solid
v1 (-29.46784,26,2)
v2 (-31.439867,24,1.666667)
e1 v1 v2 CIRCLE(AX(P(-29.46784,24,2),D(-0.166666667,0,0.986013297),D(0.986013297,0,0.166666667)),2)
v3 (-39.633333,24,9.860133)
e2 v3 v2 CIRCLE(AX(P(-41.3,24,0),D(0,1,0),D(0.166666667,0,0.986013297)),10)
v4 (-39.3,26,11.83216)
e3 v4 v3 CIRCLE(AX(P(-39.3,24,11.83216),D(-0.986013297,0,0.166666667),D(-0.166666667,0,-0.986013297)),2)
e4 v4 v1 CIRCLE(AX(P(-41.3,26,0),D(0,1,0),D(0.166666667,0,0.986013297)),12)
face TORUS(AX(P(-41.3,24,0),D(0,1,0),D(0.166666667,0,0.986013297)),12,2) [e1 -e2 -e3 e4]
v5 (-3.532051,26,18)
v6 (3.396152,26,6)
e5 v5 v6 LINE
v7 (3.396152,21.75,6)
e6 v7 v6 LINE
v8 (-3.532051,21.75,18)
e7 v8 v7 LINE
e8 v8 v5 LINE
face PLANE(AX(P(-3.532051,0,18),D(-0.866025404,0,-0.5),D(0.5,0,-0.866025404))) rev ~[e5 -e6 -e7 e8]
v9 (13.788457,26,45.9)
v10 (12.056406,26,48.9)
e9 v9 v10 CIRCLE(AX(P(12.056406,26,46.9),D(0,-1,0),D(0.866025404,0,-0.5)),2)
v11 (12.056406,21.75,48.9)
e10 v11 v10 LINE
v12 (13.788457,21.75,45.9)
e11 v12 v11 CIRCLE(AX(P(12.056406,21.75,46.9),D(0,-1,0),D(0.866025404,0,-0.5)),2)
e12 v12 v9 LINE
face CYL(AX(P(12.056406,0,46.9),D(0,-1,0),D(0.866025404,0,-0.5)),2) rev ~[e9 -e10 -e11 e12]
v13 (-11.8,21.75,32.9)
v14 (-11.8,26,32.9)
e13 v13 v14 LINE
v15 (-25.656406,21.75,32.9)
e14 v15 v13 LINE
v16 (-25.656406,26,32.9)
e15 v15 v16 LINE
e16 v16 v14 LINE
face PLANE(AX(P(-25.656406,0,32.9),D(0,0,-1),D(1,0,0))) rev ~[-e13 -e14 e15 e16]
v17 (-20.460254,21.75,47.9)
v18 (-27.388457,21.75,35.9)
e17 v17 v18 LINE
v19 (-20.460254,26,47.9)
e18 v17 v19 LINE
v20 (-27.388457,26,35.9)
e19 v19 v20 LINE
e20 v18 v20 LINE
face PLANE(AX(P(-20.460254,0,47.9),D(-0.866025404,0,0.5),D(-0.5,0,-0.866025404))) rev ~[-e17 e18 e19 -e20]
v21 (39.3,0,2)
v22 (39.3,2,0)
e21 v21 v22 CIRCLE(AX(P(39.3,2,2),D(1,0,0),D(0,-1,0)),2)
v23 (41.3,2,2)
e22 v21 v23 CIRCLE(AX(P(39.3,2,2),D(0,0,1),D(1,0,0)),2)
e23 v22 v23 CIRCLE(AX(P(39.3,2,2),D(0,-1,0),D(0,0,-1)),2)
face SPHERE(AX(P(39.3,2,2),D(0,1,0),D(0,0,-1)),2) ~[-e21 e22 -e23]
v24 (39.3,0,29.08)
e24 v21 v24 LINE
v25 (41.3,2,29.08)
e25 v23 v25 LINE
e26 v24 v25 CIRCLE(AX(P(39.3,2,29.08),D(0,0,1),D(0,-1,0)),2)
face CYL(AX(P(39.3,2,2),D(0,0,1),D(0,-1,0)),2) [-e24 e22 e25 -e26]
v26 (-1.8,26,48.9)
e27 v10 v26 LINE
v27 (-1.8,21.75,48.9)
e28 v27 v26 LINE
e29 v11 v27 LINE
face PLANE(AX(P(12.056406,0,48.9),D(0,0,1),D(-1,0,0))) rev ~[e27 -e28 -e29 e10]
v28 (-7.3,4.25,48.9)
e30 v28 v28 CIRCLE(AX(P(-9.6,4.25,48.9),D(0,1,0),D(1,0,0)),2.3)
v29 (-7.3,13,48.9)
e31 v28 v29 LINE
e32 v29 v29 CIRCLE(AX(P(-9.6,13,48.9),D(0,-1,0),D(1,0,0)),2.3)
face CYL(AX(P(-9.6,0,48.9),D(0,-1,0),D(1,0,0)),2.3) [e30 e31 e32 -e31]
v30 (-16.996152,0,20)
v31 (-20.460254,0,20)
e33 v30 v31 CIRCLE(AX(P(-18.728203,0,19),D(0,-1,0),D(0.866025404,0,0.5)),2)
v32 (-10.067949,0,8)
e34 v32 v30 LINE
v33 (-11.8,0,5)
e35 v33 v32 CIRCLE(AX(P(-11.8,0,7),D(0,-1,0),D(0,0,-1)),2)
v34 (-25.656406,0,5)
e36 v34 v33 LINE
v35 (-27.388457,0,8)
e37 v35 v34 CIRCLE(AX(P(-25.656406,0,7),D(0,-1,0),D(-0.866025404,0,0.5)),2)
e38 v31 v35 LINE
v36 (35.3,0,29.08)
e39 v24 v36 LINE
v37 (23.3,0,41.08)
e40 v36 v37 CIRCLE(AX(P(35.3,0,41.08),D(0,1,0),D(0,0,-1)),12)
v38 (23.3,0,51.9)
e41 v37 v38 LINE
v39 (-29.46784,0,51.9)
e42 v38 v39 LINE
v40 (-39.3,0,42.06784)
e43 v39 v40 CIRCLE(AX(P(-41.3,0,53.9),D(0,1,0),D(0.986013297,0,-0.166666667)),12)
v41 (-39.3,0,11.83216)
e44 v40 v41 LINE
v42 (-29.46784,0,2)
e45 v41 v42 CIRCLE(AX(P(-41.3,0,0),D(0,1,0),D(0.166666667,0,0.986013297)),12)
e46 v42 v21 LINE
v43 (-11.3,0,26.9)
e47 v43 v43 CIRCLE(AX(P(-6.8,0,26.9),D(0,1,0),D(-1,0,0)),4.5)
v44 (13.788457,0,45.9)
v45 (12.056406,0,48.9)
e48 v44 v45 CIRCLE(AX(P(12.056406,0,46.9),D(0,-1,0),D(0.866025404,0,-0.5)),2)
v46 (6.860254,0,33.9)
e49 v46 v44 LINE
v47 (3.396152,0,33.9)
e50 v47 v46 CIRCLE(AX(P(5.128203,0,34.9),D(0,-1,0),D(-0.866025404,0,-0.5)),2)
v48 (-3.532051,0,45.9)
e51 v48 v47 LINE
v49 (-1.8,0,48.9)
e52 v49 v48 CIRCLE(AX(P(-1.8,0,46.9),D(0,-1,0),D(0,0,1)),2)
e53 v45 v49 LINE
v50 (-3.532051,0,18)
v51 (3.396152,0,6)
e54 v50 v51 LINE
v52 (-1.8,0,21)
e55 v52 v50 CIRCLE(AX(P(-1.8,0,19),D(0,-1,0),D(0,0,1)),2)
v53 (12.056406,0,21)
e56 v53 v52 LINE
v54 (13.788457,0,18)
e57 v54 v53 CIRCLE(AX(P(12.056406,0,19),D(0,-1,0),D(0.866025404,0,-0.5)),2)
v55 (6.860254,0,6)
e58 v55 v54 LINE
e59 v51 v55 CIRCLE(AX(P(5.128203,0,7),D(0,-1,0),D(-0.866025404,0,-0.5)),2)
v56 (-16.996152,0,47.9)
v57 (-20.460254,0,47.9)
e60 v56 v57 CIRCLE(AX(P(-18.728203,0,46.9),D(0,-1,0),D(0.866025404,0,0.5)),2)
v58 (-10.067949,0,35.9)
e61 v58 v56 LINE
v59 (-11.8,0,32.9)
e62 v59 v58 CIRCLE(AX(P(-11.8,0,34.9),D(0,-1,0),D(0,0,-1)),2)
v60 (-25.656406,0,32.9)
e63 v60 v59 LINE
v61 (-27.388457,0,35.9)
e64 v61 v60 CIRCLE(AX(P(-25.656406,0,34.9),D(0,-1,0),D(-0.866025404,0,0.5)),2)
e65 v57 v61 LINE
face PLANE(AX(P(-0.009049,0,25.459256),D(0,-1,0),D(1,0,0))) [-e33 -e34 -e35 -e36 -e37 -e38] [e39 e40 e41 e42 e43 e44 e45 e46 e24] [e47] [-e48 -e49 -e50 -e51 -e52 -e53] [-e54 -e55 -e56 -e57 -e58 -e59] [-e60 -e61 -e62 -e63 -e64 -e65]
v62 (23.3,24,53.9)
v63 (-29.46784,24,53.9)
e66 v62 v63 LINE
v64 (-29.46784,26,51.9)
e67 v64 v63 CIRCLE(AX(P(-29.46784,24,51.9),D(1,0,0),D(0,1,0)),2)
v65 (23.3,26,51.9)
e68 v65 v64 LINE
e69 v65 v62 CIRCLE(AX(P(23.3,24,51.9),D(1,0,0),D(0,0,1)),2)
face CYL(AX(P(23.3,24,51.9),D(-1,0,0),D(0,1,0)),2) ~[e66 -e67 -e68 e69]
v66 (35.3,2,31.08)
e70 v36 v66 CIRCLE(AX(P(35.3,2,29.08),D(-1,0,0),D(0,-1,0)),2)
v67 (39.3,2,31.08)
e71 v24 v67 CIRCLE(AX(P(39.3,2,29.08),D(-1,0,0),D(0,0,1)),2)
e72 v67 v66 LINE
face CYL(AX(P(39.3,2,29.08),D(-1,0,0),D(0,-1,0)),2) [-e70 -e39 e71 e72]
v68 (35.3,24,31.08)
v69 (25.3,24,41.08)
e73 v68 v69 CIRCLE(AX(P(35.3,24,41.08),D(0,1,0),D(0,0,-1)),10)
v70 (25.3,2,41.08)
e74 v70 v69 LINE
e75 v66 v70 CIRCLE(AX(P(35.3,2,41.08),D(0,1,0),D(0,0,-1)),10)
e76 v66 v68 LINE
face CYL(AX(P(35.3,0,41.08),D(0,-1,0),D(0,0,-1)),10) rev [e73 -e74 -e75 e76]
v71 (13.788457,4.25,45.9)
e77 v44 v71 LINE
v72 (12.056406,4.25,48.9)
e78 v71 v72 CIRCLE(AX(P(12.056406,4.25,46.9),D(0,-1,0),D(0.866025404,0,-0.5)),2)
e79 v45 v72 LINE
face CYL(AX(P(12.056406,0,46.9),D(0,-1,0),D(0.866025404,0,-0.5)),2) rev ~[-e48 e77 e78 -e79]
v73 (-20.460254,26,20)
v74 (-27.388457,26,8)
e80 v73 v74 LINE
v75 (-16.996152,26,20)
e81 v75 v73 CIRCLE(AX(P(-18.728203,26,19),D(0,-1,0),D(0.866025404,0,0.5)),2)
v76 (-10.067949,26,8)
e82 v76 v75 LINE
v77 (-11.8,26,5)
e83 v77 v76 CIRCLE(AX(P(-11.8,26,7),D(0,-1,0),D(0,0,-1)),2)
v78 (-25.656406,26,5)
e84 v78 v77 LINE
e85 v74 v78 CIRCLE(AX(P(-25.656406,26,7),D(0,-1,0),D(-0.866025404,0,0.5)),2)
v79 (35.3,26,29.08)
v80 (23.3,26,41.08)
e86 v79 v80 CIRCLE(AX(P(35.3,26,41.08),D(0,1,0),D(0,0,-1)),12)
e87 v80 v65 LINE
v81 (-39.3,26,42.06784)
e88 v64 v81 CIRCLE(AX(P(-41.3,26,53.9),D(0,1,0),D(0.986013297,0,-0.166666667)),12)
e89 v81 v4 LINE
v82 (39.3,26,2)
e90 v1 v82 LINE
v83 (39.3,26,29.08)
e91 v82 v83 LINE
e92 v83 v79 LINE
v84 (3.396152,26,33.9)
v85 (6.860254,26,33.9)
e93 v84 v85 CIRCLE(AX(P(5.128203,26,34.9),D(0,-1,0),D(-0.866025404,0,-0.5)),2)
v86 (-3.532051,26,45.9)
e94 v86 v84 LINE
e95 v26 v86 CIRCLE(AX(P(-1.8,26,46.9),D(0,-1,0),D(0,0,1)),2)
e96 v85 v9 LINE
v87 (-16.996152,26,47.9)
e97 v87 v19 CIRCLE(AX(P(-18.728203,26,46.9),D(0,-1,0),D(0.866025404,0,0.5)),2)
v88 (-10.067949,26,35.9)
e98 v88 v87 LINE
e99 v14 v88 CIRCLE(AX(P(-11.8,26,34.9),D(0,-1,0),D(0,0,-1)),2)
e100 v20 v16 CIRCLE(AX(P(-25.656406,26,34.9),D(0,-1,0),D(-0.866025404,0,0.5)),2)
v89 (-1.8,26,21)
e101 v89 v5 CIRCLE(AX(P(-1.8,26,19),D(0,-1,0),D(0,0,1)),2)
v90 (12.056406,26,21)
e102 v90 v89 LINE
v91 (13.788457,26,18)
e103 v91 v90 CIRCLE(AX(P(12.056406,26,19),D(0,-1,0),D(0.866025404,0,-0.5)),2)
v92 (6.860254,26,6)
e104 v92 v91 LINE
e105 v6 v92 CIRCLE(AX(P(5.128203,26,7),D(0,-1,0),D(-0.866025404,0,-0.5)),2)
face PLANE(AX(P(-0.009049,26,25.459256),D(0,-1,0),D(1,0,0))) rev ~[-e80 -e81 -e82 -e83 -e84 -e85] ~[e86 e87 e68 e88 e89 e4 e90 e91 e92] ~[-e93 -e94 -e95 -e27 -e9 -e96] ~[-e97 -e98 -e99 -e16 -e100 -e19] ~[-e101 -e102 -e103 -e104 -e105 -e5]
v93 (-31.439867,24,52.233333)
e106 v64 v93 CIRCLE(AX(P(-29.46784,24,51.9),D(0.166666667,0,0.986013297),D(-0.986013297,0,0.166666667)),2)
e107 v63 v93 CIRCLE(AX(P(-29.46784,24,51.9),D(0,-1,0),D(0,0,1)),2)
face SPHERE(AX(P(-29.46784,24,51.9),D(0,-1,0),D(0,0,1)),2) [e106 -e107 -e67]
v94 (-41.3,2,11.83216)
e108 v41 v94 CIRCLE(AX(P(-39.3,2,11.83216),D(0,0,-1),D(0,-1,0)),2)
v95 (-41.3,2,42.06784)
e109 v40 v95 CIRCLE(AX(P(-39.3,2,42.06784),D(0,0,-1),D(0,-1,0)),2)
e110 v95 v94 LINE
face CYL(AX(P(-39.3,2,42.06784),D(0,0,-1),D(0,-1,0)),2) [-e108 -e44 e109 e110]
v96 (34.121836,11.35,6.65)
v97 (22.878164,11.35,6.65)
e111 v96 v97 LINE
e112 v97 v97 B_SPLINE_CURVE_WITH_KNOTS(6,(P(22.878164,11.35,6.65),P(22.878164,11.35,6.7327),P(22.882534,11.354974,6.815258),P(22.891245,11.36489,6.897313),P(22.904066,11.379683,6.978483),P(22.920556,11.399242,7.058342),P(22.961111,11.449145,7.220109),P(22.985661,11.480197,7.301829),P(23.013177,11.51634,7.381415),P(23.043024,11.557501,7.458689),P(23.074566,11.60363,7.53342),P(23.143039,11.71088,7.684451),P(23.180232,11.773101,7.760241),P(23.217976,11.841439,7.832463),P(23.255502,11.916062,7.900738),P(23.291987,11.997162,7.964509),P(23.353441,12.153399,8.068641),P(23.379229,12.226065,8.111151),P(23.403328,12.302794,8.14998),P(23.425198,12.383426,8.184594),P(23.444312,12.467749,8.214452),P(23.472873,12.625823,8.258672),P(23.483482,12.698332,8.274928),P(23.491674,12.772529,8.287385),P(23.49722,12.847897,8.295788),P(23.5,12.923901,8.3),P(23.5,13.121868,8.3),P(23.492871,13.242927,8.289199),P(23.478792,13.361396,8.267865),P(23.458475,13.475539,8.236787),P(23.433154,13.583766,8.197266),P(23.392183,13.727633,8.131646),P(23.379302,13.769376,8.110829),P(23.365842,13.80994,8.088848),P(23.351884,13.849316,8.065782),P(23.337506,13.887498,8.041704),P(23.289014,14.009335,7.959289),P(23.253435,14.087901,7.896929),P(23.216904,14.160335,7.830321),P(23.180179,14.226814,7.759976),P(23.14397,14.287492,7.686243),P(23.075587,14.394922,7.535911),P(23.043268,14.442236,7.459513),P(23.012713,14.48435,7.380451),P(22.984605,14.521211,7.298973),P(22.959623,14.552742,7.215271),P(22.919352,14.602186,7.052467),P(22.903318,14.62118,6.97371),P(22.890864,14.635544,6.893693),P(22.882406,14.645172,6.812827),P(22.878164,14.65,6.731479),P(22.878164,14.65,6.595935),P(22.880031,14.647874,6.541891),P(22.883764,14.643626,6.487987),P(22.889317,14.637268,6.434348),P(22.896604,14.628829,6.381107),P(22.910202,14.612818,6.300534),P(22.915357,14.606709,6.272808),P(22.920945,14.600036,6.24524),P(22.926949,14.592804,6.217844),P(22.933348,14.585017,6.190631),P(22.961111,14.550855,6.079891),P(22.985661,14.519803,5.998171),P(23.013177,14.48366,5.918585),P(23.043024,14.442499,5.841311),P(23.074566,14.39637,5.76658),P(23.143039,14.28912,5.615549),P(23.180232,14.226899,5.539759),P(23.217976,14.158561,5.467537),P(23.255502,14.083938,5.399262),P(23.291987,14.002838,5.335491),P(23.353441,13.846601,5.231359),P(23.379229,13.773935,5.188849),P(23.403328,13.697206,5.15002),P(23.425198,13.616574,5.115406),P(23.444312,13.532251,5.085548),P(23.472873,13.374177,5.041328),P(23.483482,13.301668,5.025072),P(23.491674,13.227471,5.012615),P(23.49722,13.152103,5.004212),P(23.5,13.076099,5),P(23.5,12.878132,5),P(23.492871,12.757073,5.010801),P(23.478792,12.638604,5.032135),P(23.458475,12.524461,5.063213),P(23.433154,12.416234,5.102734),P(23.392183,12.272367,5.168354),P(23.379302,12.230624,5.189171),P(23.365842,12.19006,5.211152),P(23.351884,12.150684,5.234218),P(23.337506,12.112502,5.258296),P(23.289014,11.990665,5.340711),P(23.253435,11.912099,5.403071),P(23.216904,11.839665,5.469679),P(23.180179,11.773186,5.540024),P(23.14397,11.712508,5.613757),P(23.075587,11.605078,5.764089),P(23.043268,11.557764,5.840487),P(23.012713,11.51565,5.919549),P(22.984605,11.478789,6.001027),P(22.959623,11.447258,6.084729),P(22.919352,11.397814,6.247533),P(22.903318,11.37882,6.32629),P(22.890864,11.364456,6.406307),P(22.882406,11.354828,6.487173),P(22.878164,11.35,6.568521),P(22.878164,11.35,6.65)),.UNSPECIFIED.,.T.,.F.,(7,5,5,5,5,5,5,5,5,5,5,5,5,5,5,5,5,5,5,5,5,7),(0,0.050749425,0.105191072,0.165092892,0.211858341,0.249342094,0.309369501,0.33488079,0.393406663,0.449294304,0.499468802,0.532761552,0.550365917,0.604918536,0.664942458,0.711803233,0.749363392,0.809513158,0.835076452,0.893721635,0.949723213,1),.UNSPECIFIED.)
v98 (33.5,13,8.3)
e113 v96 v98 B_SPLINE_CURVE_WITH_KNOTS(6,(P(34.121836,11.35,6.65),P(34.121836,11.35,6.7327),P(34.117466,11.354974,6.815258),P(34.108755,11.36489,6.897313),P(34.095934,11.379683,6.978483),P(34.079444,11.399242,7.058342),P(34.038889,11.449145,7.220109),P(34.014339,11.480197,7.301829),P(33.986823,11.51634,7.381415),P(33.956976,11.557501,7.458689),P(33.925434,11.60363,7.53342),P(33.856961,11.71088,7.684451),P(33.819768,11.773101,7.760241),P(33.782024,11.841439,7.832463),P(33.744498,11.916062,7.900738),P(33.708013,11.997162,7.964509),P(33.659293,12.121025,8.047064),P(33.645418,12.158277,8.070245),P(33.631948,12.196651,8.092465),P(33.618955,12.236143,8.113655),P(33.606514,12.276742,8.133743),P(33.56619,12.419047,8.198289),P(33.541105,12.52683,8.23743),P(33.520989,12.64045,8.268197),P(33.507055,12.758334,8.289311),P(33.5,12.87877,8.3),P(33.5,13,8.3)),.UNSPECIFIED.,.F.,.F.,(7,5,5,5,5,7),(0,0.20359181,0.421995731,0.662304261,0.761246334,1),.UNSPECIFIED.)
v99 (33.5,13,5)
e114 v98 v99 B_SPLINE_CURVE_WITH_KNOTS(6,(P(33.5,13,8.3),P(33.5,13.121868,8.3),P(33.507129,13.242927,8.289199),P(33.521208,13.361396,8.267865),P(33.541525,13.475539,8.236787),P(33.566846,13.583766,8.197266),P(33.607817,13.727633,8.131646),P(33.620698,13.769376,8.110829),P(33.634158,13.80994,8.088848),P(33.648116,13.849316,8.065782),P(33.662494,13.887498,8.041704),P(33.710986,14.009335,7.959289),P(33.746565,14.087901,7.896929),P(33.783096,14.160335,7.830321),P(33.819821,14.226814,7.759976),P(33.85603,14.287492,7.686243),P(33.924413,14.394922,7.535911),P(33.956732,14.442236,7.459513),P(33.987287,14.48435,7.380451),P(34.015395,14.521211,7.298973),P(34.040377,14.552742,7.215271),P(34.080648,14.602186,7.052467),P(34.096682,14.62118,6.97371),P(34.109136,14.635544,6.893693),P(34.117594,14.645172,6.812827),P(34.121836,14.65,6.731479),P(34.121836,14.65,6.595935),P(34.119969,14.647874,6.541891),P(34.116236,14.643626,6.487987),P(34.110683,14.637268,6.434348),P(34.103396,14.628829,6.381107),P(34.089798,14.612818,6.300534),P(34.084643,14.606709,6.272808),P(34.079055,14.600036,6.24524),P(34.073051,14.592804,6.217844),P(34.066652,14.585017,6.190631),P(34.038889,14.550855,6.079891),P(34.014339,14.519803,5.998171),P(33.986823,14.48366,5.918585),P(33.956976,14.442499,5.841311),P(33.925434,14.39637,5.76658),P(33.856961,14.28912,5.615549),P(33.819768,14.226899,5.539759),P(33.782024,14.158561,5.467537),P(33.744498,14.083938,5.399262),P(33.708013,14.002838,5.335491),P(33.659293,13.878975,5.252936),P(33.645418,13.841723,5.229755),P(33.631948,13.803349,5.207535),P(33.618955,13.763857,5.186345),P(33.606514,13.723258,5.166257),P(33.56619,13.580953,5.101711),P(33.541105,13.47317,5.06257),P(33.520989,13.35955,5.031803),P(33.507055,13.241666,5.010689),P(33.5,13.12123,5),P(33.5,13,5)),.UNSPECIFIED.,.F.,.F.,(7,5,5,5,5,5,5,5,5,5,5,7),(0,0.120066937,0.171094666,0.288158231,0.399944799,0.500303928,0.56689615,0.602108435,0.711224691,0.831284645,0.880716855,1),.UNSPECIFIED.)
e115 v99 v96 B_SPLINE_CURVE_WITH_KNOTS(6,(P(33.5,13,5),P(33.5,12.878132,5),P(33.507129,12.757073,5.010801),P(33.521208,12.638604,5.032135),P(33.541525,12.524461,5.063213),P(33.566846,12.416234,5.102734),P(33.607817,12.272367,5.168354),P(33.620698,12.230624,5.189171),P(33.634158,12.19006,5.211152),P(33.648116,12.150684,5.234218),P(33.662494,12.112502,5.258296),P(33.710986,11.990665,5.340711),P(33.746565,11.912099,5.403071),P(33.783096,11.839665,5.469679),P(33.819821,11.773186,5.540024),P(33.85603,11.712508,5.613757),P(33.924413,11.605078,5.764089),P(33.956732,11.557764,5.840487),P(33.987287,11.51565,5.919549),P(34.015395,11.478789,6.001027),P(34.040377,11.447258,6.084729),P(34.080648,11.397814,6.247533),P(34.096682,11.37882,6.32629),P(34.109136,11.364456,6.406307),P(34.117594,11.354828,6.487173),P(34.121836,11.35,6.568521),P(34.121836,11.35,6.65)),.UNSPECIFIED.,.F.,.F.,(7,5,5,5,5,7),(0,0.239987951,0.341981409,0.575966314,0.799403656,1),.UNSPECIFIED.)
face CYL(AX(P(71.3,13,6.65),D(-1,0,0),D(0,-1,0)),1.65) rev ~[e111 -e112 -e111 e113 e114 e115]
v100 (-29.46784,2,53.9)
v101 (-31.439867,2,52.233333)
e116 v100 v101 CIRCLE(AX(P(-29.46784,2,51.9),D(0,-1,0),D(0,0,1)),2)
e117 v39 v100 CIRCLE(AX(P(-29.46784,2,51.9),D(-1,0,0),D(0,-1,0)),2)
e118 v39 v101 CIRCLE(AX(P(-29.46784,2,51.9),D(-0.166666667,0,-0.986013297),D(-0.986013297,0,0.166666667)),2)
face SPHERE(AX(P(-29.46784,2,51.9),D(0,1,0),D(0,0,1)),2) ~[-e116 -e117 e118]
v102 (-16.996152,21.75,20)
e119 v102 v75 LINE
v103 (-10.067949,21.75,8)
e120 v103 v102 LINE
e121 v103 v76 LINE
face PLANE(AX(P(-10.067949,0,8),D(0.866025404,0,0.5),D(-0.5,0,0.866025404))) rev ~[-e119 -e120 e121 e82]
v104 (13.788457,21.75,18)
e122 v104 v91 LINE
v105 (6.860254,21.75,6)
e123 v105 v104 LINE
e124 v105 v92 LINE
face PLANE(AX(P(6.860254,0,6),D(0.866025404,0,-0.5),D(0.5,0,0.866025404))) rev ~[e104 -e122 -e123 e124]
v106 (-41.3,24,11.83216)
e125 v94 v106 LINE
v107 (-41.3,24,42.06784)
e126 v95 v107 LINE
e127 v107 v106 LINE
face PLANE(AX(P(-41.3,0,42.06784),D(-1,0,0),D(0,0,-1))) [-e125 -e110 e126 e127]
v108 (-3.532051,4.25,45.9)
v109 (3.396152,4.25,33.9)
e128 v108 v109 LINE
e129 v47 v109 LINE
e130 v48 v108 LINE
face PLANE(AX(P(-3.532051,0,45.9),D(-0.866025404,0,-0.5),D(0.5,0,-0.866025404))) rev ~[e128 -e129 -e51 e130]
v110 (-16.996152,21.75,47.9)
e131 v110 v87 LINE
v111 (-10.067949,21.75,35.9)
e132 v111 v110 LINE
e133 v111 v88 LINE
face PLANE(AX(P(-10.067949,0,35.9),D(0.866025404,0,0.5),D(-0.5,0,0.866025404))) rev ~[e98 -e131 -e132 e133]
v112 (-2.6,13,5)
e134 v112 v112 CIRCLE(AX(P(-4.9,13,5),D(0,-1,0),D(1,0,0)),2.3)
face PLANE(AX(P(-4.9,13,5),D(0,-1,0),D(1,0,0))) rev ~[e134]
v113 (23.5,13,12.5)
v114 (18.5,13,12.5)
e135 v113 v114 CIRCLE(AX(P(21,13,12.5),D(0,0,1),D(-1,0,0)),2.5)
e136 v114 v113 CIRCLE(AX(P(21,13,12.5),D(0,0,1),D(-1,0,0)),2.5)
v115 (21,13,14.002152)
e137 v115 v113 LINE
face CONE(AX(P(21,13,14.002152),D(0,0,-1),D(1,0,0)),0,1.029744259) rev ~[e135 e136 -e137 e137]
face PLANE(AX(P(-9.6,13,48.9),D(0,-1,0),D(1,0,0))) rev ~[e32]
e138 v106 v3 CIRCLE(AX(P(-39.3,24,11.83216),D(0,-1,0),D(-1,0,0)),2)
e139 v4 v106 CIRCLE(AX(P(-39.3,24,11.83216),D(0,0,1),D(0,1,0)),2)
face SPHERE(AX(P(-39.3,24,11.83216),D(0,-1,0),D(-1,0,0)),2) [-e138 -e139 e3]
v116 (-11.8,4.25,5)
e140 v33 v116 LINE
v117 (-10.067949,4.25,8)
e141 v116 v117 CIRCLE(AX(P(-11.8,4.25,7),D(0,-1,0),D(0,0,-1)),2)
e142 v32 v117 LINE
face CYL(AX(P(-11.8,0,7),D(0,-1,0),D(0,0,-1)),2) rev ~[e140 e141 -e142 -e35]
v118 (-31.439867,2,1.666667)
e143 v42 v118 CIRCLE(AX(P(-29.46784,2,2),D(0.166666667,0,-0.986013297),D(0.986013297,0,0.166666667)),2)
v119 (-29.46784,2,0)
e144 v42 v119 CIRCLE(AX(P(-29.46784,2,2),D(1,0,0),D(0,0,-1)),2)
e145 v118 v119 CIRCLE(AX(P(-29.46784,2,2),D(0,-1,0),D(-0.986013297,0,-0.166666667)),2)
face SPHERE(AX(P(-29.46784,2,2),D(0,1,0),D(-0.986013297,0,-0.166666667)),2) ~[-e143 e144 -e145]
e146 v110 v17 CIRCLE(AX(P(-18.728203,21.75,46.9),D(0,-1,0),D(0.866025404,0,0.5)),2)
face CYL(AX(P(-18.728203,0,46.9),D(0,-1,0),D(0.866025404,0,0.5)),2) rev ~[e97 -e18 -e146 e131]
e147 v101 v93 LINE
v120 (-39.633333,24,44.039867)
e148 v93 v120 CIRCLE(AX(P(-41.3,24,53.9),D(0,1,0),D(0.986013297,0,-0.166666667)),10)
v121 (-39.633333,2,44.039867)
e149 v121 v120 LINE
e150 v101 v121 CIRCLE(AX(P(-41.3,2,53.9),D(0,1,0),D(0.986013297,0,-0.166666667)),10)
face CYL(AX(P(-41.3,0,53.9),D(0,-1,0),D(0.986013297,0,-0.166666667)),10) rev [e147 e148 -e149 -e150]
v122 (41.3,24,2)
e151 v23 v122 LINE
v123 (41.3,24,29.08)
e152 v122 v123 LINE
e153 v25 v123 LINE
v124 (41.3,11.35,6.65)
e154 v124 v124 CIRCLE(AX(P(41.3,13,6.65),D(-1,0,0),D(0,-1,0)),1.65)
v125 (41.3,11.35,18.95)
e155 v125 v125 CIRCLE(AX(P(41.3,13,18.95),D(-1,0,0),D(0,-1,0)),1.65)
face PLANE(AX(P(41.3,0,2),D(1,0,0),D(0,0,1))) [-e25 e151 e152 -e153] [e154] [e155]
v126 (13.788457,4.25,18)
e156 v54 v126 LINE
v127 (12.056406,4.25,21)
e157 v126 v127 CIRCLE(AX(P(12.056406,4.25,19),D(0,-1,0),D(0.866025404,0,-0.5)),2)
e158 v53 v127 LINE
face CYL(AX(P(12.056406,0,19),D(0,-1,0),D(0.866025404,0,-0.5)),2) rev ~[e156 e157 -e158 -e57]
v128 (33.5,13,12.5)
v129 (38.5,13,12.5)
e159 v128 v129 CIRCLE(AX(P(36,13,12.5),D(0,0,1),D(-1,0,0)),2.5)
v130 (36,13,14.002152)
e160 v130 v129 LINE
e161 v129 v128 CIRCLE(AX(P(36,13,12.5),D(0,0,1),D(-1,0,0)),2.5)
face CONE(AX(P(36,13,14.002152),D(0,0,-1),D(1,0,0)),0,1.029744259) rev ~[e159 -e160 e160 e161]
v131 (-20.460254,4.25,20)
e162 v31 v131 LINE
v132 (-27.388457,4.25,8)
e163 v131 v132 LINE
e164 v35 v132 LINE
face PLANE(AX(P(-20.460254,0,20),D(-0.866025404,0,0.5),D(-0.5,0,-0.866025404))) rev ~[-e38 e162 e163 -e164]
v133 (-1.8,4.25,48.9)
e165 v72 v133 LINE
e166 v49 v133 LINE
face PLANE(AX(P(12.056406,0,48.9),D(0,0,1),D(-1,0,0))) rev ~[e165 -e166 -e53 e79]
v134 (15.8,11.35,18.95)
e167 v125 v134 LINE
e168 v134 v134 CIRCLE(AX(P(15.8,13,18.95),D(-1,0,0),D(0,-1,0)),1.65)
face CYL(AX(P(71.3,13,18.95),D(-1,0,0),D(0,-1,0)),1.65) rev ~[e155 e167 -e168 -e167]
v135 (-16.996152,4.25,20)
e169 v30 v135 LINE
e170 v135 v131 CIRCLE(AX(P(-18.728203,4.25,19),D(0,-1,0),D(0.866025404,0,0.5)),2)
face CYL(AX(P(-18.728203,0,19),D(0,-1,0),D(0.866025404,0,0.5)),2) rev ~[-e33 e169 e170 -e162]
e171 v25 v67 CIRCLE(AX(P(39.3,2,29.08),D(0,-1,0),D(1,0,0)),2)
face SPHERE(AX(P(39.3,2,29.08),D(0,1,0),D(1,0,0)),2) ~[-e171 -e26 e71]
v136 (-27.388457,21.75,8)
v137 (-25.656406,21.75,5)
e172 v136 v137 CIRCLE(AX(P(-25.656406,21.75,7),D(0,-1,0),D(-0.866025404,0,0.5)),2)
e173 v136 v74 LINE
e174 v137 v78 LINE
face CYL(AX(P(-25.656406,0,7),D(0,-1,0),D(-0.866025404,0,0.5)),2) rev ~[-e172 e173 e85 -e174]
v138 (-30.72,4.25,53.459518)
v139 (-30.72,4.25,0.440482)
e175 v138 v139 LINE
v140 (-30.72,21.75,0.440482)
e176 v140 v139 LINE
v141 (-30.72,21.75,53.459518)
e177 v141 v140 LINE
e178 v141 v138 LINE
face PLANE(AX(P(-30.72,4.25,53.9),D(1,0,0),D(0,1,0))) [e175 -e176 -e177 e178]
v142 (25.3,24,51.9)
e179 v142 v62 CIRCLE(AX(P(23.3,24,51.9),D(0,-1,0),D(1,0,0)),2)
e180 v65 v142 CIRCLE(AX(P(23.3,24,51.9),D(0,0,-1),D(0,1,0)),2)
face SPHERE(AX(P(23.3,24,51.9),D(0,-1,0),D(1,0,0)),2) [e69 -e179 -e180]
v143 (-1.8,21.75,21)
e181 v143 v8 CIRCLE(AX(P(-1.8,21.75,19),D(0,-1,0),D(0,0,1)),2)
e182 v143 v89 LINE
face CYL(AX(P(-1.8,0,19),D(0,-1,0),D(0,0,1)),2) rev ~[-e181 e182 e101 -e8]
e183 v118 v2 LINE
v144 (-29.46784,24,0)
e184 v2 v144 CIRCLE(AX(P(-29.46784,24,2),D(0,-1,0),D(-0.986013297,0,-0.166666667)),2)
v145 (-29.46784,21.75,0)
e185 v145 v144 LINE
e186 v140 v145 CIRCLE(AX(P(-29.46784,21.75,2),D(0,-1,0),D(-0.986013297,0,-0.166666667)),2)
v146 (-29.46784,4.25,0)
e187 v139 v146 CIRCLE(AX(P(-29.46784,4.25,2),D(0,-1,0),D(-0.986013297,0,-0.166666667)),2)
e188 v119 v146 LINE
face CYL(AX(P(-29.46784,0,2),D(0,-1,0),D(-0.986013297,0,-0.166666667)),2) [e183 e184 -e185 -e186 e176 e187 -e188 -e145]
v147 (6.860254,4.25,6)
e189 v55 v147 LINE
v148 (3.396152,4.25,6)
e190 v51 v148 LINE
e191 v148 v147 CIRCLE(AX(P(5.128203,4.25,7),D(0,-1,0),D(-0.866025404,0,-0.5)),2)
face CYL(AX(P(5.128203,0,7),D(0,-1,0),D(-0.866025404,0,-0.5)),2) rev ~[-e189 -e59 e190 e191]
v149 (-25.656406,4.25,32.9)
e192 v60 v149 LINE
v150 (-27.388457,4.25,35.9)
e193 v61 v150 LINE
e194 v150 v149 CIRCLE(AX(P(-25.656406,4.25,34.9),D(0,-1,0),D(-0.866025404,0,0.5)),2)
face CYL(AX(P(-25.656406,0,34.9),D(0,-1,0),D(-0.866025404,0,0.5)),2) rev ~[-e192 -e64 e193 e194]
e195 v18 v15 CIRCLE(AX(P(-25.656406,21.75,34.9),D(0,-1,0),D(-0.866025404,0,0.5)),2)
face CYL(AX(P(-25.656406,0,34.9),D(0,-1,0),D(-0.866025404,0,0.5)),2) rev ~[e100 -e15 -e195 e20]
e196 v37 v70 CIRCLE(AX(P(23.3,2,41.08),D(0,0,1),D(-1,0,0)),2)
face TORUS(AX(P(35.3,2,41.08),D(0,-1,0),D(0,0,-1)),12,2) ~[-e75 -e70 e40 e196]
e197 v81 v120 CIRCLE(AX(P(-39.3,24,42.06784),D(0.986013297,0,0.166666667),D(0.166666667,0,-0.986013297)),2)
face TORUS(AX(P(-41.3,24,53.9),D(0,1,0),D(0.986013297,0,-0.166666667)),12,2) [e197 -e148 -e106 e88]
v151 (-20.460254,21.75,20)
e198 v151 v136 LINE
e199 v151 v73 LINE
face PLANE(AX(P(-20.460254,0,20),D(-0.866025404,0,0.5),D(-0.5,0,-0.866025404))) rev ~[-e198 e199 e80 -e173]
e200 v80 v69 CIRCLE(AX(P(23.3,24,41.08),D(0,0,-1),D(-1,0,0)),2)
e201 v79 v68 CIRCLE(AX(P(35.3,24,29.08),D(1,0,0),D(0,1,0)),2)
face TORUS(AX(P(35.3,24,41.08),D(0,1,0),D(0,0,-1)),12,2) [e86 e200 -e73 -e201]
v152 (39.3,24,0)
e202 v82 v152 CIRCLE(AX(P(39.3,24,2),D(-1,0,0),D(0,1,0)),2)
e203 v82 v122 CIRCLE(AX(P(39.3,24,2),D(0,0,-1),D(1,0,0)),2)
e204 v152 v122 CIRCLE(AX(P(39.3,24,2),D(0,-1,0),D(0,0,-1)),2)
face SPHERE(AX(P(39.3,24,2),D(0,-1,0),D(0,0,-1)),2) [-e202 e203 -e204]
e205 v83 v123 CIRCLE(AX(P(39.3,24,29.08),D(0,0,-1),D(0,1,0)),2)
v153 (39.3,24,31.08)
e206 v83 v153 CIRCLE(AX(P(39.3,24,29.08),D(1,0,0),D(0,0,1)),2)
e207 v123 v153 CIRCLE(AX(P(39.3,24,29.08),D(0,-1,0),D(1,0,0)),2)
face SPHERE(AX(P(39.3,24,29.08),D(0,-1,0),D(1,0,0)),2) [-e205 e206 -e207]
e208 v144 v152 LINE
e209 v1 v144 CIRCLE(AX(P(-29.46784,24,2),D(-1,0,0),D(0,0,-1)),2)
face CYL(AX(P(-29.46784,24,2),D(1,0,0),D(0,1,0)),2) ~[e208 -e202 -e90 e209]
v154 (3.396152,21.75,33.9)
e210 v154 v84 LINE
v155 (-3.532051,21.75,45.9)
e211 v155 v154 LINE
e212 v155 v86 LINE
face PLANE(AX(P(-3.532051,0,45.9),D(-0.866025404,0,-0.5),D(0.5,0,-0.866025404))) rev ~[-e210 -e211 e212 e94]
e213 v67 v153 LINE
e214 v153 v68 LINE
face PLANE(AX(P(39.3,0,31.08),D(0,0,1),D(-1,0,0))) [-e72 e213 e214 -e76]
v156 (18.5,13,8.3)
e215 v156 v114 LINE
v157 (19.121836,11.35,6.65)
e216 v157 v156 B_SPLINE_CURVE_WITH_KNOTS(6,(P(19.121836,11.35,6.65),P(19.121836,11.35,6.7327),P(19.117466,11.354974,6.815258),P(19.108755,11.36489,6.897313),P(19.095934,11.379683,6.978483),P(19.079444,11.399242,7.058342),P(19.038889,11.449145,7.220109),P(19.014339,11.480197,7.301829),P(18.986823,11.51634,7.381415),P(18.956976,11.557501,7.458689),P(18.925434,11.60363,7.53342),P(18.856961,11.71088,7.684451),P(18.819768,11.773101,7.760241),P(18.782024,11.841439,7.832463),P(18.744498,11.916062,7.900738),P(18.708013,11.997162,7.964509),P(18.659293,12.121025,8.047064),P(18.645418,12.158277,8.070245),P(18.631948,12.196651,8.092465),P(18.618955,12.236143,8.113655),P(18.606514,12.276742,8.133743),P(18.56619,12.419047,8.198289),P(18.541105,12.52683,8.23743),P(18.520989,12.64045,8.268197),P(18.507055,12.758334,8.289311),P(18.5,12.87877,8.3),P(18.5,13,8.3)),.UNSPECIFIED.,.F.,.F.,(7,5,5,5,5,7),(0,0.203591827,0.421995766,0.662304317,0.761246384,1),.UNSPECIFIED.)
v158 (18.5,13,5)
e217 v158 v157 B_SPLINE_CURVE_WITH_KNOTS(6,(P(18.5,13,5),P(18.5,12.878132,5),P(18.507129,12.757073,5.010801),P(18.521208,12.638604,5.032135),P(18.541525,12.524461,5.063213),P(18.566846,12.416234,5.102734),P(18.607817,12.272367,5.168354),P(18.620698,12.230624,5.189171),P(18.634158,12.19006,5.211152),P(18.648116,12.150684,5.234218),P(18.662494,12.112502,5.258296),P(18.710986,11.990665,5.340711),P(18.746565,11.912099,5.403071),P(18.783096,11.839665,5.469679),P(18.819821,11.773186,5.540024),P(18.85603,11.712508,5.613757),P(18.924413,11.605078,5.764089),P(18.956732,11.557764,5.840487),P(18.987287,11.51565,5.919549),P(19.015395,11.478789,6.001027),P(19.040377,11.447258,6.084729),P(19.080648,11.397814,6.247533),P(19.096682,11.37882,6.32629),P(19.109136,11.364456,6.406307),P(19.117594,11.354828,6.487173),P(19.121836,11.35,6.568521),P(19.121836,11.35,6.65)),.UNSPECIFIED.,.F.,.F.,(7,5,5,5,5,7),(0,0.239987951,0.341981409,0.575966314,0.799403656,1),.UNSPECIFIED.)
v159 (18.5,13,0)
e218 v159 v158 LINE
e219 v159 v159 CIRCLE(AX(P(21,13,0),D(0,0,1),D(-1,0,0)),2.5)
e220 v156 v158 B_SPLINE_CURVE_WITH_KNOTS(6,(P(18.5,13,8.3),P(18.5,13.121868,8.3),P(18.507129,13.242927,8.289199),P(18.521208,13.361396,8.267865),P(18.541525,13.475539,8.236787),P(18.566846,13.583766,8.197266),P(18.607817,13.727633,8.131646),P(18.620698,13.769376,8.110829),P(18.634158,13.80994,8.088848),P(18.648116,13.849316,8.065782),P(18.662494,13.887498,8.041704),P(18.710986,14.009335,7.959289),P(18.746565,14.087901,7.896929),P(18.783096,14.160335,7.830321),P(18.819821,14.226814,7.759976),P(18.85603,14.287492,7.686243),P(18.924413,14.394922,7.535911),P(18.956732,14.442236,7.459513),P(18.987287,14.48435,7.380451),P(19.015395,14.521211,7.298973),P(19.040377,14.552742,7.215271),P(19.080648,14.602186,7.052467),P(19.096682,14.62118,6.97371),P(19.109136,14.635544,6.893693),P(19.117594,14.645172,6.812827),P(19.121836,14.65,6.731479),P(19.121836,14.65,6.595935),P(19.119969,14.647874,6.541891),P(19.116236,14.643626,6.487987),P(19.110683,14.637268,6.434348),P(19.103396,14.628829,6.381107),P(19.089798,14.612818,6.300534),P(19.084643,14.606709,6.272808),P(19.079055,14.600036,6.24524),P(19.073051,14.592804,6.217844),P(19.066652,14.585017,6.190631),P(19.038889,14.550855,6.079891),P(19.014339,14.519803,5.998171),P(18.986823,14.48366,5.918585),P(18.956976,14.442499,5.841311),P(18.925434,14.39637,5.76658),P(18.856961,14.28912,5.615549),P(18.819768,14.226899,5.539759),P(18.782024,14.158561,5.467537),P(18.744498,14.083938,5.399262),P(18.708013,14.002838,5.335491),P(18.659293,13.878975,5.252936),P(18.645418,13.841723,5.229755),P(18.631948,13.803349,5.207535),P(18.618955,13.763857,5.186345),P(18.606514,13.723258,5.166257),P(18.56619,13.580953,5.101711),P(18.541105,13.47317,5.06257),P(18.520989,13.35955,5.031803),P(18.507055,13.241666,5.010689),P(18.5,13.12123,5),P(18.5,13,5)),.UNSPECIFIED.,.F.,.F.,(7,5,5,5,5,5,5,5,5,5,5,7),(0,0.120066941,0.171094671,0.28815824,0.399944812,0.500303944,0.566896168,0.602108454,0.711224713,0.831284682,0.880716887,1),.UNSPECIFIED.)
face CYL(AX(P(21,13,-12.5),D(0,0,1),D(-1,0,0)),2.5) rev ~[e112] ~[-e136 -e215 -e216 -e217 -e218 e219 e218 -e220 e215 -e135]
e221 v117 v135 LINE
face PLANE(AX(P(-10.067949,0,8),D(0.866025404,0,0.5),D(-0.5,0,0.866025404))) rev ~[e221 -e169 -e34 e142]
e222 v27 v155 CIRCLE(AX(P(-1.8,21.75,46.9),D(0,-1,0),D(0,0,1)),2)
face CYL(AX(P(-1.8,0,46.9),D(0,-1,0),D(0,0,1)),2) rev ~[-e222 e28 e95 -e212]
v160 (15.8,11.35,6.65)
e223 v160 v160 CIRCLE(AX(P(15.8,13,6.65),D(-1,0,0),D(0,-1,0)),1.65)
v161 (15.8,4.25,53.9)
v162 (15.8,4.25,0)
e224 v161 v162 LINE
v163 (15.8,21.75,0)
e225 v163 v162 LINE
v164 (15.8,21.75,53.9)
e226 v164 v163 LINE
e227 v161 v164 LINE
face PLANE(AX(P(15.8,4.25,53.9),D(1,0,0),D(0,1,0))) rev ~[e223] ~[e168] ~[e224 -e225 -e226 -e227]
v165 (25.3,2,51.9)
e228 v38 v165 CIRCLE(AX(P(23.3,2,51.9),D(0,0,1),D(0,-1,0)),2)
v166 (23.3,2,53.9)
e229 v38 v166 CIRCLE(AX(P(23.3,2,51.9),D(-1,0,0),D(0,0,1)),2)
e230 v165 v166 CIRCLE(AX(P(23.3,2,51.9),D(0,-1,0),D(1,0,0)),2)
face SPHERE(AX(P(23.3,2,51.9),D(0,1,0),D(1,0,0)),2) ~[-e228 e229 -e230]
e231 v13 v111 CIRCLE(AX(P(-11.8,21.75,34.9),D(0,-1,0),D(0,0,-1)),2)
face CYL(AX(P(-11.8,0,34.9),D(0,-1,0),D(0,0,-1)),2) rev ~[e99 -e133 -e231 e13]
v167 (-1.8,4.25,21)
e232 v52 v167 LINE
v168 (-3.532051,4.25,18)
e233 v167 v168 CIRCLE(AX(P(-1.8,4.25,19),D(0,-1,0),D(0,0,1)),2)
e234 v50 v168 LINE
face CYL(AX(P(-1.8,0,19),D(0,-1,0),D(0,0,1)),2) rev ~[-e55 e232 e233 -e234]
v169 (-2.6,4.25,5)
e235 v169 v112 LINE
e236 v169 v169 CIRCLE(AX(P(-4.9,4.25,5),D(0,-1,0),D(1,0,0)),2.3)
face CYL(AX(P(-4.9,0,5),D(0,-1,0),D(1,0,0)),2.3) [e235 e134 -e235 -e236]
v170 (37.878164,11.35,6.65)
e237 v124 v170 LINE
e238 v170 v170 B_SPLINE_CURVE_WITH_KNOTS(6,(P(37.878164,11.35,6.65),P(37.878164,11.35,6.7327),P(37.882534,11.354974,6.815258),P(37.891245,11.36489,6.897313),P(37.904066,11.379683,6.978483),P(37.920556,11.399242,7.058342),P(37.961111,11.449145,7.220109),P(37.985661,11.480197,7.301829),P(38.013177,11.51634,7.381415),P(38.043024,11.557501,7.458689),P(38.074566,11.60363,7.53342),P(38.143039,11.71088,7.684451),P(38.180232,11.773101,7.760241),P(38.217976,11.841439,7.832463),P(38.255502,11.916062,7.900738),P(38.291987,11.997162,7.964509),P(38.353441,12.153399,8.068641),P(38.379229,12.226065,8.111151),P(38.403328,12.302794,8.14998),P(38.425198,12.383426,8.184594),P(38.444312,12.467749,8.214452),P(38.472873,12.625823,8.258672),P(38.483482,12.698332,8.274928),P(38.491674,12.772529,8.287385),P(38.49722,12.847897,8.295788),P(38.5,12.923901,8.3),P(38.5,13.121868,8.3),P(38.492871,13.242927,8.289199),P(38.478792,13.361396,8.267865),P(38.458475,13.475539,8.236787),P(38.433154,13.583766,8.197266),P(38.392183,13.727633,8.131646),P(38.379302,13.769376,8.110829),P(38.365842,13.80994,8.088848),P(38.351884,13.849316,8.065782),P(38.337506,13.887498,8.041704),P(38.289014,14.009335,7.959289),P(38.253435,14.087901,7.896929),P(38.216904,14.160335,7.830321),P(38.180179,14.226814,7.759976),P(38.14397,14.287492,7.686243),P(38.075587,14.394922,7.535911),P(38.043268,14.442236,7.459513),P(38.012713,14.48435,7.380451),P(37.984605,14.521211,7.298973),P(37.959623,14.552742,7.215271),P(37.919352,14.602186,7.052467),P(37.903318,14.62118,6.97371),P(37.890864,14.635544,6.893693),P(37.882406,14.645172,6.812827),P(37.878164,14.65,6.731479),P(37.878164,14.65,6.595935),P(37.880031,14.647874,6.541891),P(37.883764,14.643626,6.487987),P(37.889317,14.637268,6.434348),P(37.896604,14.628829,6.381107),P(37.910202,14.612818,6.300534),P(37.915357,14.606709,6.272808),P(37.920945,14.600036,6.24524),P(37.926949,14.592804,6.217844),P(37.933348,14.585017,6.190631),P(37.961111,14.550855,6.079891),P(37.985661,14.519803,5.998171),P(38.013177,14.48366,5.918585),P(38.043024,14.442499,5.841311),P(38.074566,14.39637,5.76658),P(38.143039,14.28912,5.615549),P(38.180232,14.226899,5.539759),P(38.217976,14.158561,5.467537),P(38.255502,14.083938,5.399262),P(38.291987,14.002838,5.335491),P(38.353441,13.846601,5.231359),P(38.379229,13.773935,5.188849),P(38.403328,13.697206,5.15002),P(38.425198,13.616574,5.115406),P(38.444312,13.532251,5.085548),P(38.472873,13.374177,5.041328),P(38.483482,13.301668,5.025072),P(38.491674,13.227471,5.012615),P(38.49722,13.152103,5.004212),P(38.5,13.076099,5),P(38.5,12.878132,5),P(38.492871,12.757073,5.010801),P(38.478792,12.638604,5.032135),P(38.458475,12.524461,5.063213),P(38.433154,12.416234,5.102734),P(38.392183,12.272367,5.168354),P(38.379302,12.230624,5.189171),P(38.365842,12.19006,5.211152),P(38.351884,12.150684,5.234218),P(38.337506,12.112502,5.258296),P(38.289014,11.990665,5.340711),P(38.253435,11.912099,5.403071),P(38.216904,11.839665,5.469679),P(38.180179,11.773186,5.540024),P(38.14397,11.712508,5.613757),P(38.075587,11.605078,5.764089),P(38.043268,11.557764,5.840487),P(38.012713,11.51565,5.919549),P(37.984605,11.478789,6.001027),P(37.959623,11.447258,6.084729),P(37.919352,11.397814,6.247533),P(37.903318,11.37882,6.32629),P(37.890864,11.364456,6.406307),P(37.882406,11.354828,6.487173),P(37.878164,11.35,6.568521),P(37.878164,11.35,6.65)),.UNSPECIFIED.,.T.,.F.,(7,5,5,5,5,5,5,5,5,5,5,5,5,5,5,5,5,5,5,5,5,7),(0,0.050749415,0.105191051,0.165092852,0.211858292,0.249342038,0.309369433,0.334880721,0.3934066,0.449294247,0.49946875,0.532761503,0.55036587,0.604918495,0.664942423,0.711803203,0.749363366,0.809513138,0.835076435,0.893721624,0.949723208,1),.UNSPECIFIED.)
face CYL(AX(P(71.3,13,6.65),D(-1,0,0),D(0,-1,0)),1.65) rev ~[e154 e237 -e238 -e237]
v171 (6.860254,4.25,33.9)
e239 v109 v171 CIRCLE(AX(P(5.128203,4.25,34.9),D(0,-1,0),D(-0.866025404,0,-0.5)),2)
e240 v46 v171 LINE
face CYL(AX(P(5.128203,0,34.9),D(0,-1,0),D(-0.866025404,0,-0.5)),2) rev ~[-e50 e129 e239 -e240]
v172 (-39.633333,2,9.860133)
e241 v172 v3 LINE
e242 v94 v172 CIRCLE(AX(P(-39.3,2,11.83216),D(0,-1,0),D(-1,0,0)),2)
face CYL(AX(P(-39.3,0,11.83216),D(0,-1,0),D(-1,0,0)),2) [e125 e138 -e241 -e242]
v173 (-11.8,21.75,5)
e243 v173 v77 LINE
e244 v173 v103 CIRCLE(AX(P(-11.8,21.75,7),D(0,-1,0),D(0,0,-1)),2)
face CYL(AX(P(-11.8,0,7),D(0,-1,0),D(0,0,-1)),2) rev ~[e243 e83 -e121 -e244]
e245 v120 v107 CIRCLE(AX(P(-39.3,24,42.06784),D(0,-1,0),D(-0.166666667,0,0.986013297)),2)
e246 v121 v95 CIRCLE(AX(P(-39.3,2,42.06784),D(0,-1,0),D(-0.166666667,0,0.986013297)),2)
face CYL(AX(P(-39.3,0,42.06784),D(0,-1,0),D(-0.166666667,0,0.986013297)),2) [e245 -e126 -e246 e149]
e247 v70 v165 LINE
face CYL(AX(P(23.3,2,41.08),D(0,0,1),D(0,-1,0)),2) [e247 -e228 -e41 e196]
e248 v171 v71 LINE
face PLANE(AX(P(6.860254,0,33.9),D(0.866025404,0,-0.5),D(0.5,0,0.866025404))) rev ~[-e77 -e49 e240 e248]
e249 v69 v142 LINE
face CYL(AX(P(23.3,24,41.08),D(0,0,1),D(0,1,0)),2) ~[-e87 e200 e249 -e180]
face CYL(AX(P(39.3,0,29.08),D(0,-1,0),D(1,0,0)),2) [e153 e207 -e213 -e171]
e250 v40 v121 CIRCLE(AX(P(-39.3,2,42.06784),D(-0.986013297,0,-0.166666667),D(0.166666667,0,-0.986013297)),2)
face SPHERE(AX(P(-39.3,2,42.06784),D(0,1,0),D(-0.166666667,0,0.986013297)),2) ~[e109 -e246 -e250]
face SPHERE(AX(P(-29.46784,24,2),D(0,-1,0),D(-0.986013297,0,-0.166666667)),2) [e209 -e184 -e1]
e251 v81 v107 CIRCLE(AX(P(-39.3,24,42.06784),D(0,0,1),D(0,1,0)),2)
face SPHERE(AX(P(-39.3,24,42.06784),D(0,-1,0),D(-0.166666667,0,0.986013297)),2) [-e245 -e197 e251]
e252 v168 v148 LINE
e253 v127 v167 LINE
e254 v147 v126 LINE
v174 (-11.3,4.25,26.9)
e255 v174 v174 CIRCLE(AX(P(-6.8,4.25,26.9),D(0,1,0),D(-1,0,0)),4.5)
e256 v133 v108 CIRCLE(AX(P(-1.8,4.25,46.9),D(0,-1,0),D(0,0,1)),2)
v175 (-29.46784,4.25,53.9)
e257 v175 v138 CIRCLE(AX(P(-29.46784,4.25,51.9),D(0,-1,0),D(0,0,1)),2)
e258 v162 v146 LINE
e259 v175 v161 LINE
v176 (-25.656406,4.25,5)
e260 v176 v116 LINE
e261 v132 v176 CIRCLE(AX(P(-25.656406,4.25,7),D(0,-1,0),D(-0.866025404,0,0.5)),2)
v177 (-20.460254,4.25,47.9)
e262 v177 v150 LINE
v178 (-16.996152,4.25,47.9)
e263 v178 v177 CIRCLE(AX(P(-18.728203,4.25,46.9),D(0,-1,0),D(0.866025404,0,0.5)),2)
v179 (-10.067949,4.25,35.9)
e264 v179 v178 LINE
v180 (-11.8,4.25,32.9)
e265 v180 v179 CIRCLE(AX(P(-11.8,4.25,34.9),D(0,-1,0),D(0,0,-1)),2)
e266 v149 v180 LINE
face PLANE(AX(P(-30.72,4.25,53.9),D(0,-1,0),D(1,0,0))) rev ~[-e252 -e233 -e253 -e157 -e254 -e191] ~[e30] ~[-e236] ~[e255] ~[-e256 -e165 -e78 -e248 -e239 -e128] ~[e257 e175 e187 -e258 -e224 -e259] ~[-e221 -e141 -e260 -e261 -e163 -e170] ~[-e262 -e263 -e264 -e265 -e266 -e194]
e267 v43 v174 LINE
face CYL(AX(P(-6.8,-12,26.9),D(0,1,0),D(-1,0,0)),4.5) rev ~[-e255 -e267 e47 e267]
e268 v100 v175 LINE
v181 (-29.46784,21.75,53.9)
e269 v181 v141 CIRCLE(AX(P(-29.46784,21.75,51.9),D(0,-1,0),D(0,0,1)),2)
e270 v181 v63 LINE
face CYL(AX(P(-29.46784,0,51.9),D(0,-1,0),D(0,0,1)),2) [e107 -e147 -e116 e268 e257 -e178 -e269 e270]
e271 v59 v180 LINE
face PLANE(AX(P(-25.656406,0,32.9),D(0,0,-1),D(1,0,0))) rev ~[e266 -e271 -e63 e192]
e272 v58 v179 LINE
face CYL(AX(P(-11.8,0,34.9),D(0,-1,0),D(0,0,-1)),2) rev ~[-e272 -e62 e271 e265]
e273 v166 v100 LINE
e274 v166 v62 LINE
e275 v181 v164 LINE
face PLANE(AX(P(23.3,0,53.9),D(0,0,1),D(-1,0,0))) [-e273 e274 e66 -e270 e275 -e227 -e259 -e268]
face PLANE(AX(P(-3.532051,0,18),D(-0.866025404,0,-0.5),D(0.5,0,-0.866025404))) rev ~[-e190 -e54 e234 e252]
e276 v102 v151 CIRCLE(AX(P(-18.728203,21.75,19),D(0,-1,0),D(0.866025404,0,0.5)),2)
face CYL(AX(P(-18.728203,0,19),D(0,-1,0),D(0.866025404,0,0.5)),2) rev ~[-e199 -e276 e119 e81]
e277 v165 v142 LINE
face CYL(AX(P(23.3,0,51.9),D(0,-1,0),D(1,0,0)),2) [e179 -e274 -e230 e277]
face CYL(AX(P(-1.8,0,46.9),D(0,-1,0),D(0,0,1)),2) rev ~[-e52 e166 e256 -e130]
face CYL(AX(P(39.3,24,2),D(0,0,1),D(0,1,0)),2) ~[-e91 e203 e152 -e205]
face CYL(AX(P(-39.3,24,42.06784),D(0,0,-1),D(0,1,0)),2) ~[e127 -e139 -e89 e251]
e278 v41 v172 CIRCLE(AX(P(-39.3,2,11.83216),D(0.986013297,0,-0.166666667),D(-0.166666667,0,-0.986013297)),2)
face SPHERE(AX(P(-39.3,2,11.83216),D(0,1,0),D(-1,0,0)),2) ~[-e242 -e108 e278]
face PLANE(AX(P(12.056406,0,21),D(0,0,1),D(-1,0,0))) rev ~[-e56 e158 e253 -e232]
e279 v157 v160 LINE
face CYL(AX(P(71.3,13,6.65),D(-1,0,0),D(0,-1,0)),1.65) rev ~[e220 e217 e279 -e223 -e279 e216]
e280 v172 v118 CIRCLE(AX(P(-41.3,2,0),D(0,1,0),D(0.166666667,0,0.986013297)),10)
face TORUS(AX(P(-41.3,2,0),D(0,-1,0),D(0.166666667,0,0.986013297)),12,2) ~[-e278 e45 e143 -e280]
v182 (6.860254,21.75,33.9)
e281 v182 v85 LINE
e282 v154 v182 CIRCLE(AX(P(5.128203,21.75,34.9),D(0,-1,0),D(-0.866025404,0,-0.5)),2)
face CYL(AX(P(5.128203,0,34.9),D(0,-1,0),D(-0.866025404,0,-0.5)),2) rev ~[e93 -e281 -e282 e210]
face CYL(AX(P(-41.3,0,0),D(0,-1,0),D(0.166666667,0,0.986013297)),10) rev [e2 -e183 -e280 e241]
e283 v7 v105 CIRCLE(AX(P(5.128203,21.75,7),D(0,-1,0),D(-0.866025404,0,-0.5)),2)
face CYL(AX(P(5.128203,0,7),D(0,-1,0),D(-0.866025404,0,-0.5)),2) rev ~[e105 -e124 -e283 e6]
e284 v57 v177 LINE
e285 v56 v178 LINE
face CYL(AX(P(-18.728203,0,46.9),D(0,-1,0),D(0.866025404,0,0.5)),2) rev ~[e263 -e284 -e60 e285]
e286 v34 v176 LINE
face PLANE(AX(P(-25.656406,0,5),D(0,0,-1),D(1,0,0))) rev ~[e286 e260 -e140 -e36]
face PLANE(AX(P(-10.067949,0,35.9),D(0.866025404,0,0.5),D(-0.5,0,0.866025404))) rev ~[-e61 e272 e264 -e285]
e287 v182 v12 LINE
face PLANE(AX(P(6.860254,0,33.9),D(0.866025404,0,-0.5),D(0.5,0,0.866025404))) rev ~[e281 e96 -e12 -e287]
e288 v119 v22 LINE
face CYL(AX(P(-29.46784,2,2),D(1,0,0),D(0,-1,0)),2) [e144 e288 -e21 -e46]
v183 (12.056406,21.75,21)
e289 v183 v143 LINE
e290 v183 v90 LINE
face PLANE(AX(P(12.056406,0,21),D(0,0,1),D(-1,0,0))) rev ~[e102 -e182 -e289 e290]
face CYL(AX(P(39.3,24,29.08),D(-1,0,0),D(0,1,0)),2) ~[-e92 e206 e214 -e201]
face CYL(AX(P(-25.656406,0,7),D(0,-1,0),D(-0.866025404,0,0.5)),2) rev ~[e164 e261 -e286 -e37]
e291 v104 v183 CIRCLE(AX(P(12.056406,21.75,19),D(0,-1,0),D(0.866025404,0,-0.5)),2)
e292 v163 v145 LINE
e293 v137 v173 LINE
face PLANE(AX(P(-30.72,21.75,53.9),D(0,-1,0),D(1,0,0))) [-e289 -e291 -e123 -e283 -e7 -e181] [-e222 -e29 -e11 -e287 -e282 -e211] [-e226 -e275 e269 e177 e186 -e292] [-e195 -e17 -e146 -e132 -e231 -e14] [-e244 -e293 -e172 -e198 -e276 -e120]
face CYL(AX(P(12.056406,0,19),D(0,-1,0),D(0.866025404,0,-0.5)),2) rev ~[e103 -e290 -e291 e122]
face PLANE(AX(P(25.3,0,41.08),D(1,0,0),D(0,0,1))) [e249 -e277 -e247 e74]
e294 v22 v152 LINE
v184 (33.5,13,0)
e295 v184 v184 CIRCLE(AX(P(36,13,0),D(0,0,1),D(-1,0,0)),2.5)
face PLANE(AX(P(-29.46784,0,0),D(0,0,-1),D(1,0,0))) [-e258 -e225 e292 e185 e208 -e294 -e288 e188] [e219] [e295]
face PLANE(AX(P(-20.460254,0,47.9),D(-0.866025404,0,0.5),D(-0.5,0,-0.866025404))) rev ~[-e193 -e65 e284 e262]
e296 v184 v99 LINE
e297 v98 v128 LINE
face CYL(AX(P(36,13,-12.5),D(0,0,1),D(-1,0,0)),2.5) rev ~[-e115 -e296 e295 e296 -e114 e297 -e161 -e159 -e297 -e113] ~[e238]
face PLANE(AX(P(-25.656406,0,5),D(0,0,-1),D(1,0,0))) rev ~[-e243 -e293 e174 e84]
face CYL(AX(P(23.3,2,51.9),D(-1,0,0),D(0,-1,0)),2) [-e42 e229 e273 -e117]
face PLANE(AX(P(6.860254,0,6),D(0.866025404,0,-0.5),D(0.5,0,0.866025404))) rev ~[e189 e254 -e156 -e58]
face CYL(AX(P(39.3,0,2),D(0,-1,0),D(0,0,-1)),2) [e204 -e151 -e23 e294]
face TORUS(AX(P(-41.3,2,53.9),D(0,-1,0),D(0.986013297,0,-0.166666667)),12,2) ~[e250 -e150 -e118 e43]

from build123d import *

# Parameters (mm, degrees)
F1_DEPTH  = 26
F2_W      = 46.52
F2_H      = 17.5
F3_DEPTH  = 53.901
F5_D      = 9
F5_DEPTH  = 12
F5_TIP    = 2.7038727856
F7_D      = 3.3
F7_DEPTH  = 30
F7_TIP    = 0.9914200214
F9_D      = 5
F9_DEPTH  = 12.5
F9_TIP    = 1.5021515476
F11_D     = 4.6
F11_DEPTH = 12.5
F11_TIP   = 1.3819794238
F10_R     = 2.3
F12_DEPTH = 13
F14_DEPTH = 26.001
F15_R     = 2


with BuildPart() as f1:
    # F0 (on Front) → F1 (new body)
    with BuildSketch(Plane.XZ):
        with BuildLine():
            Line((23.3, 53.9), (-29.4678404338, 53.9))
            ThreePointArc((-29.4678404338, 53.9), (-30.7588348825, 53.4275252317), (-31.4398670282, 52.2333333333))
            ThreePointArc((-31.4398670282, 52.2333333333), (-34.2289321881, 46.8289321881), (-39.6333333333, 44.0398670282))
            ThreePointArc((-39.6333333333, 44.0398670282), (-40.8275252317, 43.3588348825), (-41.3, 42.0678404338))
            Line((-41.3, 42.0678404338), (-41.3, 11.8321595662))
            ThreePointArc((-41.3, 11.8321595662), (-40.8275252317, 10.5411651175), (-39.6333333333, 9.8601329718))
            ThreePointArc((-39.6333333333, 9.8601329718), (-34.2289321881, 7.0710678119), (-31.4398670282, 1.6666666667))
            ThreePointArc((-31.4398670282, 1.6666666667), (-30.7588348825, 0.4724747683), (-29.4678404338, 0))
            Line((-29.4678404338, 0), (39.3, 0))
            ThreePointArc((39.3, 0), (40.7142135624, 0.5857864376), (41.3, 2))
            Line((41.3, 2), (41.3, 29.08))
            ThreePointArc((41.3, 29.08), (40.7142135624, 30.4942135624), (39.3, 31.08))
            Line((39.3, 31.08), (35.3, 31.08))
            ThreePointArc((35.3, 31.08), (28.2289321881, 34.0089321881), (25.3, 41.08))
            Line((25.3, 41.08), (25.3, 51.9))
            ThreePointArc((25.3, 51.9), (24.7142135624, 53.3142135624), (23.3, 53.9))
        make_face()
    extrude(amount=-F1_DEPTH)

    # F2 (on face) → F3 (cut, through all)
    with BuildSketch(Plane.XY.offset(53.9)):
        with Locations((-7.46, 13)):
            Rectangle(F2_W, F2_H)
    extrude(amount=-F3_DEPTH, mode=Mode.SUBTRACT)

    # F5
    with Locations(Plane.XZ):
        with Locations((-6.8, 26.9)):
            Hole(F5_D / 2, depth=F5_DEPTH)
            with Locations((0, 0, -(F5_DEPTH + F5_TIP / 2))):  # 118° drill point
                Cone(0, F5_D / 2, F5_TIP, mode=Mode.SUBTRACT)

    # F7
    with Locations(Plane.YZ.offset(41.3)):
        with Locations((13, 18.95), (13, 6.65)):
            Hole(F7_D / 2, depth=F7_DEPTH)
            with Locations((0, 0, -(F7_DEPTH + F7_TIP / 2))):  # 118° drill point
                Cone(0, F7_D / 2, F7_TIP, mode=Mode.SUBTRACT)

    # F9
    with Locations(Plane(origin=(0, 0, 0), x_dir=(1, 0, 0), z_dir=(0, 0, -1))):
        with Locations((36, -13), (21, -13)):
            Hole(F9_D / 2, depth=F9_DEPTH)
            with Locations((0, 0, -(F9_DEPTH + F9_TIP / 2))):  # 118° drill point
                Cone(0, F9_D / 2, F9_TIP, mode=Mode.SUBTRACT)

    # F11
    with Locations(Plane.XZ):
        with Locations((-9.6, 48.9), (-4.9, 5)):
            Hole(F11_D / 2, depth=F11_DEPTH)
            with Locations((0, 0, -(F11_DEPTH + F11_TIP / 2))):  # 118° drill point
                Cone(0, F11_D / 2, F11_TIP, mode=Mode.SUBTRACT)

    # F10 (on face) → F12 (join)
    with BuildSketch(Plane.XZ):
        with Locations((-9.6, 48.9)):
            Circle(F10_R)
        with Locations((-4.9, 5)):
            Circle(F10_R)
    extrude(amount=-F12_DEPTH)

    # F13 (on face) → F14 (cut, through all)
    with BuildSketch(Plane.XZ):
        with BuildLine():
            Line((-10.0679491924, 35.9), (-16.9961524227, 47.9))
            ThreePointArc((-16.9961524227, 47.9), (-18.7282032303, 48.9), (-20.4602540378, 47.9))
            Line((-20.4602540378, 47.9), (-27.3884572681, 35.9))
            ThreePointArc((-27.3884572681, 35.9), (-27.3884572681, 33.9), (-25.6564064606, 32.9))
            Line((-25.6564064606, 32.9), (-11.8, 32.9))
            ThreePointArc((-11.8, 32.9), (-10.0679491924, 33.9), (-10.0679491924, 35.9))
        make_face()
        with BuildLine():
            Line((12.0564064606, 48.9), (-1.8, 48.9))
            ThreePointArc((-1.8, 48.9), (-3.5320508076, 47.9), (-3.5320508076, 45.9))
            Line((-3.5320508076, 45.9), (3.3961524227, 33.9))
            ThreePointArc((3.3961524227, 33.9), (5.1282032303, 32.9), (6.8602540378, 33.9))
            Line((6.8602540378, 33.9), (13.7884572681, 45.9))
            ThreePointArc((13.7884572681, 45.9), (13.7884572681, 47.9), (12.0564064606, 48.9))
        make_face()
        with BuildLine():
            Line((-20.4602540378, 20), (-27.3884572681, 8))
            ThreePointArc((-27.3884572681, 8), (-27.3884572681, 6), (-25.6564064606, 5))
            Line((-25.6564064606, 5), (-11.8, 5))
            ThreePointArc((-11.8, 5), (-10.0679491924, 6), (-10.0679491924, 8))
            Line((-10.0679491924, 8), (-16.9961524227, 20))
            ThreePointArc((-16.9961524227, 20), (-18.7282032303, 21), (-20.4602540378, 20))
        make_face()
        with BuildLine():
            ThreePointArc((-1.8, 21), (-3.5320508076, 20), (-3.5320508076, 18))
            Line((-3.5320508076, 18), (3.3961524227, 6))
            ThreePointArc((3.3961524227, 6), (5.1282032303, 5), (6.8602540378, 6))
            Line((6.8602540378, 6), (13.7884572681, 18))
            ThreePointArc((13.7884572681, 18), (13.7884572681, 20), (12.0564064606, 21))
            Line((12.0564064606, 21), (-1.8, 21))
        make_face()
    extrude(amount=-F14_DEPTH, mode=Mode.SUBTRACT)

    # F15
    f15_edges = [f1.edges().sort_by_distance(p)[0] for p in [
        (-41.3, 13, 42.06784),
        (-41.3, 13, 11.83216),
        (-41.3, 0, 26.95),
        (-41.3, 26, 26.95),
    ]]
    fillet(f15_edges, radius=F15_R)


solid = f1.part
